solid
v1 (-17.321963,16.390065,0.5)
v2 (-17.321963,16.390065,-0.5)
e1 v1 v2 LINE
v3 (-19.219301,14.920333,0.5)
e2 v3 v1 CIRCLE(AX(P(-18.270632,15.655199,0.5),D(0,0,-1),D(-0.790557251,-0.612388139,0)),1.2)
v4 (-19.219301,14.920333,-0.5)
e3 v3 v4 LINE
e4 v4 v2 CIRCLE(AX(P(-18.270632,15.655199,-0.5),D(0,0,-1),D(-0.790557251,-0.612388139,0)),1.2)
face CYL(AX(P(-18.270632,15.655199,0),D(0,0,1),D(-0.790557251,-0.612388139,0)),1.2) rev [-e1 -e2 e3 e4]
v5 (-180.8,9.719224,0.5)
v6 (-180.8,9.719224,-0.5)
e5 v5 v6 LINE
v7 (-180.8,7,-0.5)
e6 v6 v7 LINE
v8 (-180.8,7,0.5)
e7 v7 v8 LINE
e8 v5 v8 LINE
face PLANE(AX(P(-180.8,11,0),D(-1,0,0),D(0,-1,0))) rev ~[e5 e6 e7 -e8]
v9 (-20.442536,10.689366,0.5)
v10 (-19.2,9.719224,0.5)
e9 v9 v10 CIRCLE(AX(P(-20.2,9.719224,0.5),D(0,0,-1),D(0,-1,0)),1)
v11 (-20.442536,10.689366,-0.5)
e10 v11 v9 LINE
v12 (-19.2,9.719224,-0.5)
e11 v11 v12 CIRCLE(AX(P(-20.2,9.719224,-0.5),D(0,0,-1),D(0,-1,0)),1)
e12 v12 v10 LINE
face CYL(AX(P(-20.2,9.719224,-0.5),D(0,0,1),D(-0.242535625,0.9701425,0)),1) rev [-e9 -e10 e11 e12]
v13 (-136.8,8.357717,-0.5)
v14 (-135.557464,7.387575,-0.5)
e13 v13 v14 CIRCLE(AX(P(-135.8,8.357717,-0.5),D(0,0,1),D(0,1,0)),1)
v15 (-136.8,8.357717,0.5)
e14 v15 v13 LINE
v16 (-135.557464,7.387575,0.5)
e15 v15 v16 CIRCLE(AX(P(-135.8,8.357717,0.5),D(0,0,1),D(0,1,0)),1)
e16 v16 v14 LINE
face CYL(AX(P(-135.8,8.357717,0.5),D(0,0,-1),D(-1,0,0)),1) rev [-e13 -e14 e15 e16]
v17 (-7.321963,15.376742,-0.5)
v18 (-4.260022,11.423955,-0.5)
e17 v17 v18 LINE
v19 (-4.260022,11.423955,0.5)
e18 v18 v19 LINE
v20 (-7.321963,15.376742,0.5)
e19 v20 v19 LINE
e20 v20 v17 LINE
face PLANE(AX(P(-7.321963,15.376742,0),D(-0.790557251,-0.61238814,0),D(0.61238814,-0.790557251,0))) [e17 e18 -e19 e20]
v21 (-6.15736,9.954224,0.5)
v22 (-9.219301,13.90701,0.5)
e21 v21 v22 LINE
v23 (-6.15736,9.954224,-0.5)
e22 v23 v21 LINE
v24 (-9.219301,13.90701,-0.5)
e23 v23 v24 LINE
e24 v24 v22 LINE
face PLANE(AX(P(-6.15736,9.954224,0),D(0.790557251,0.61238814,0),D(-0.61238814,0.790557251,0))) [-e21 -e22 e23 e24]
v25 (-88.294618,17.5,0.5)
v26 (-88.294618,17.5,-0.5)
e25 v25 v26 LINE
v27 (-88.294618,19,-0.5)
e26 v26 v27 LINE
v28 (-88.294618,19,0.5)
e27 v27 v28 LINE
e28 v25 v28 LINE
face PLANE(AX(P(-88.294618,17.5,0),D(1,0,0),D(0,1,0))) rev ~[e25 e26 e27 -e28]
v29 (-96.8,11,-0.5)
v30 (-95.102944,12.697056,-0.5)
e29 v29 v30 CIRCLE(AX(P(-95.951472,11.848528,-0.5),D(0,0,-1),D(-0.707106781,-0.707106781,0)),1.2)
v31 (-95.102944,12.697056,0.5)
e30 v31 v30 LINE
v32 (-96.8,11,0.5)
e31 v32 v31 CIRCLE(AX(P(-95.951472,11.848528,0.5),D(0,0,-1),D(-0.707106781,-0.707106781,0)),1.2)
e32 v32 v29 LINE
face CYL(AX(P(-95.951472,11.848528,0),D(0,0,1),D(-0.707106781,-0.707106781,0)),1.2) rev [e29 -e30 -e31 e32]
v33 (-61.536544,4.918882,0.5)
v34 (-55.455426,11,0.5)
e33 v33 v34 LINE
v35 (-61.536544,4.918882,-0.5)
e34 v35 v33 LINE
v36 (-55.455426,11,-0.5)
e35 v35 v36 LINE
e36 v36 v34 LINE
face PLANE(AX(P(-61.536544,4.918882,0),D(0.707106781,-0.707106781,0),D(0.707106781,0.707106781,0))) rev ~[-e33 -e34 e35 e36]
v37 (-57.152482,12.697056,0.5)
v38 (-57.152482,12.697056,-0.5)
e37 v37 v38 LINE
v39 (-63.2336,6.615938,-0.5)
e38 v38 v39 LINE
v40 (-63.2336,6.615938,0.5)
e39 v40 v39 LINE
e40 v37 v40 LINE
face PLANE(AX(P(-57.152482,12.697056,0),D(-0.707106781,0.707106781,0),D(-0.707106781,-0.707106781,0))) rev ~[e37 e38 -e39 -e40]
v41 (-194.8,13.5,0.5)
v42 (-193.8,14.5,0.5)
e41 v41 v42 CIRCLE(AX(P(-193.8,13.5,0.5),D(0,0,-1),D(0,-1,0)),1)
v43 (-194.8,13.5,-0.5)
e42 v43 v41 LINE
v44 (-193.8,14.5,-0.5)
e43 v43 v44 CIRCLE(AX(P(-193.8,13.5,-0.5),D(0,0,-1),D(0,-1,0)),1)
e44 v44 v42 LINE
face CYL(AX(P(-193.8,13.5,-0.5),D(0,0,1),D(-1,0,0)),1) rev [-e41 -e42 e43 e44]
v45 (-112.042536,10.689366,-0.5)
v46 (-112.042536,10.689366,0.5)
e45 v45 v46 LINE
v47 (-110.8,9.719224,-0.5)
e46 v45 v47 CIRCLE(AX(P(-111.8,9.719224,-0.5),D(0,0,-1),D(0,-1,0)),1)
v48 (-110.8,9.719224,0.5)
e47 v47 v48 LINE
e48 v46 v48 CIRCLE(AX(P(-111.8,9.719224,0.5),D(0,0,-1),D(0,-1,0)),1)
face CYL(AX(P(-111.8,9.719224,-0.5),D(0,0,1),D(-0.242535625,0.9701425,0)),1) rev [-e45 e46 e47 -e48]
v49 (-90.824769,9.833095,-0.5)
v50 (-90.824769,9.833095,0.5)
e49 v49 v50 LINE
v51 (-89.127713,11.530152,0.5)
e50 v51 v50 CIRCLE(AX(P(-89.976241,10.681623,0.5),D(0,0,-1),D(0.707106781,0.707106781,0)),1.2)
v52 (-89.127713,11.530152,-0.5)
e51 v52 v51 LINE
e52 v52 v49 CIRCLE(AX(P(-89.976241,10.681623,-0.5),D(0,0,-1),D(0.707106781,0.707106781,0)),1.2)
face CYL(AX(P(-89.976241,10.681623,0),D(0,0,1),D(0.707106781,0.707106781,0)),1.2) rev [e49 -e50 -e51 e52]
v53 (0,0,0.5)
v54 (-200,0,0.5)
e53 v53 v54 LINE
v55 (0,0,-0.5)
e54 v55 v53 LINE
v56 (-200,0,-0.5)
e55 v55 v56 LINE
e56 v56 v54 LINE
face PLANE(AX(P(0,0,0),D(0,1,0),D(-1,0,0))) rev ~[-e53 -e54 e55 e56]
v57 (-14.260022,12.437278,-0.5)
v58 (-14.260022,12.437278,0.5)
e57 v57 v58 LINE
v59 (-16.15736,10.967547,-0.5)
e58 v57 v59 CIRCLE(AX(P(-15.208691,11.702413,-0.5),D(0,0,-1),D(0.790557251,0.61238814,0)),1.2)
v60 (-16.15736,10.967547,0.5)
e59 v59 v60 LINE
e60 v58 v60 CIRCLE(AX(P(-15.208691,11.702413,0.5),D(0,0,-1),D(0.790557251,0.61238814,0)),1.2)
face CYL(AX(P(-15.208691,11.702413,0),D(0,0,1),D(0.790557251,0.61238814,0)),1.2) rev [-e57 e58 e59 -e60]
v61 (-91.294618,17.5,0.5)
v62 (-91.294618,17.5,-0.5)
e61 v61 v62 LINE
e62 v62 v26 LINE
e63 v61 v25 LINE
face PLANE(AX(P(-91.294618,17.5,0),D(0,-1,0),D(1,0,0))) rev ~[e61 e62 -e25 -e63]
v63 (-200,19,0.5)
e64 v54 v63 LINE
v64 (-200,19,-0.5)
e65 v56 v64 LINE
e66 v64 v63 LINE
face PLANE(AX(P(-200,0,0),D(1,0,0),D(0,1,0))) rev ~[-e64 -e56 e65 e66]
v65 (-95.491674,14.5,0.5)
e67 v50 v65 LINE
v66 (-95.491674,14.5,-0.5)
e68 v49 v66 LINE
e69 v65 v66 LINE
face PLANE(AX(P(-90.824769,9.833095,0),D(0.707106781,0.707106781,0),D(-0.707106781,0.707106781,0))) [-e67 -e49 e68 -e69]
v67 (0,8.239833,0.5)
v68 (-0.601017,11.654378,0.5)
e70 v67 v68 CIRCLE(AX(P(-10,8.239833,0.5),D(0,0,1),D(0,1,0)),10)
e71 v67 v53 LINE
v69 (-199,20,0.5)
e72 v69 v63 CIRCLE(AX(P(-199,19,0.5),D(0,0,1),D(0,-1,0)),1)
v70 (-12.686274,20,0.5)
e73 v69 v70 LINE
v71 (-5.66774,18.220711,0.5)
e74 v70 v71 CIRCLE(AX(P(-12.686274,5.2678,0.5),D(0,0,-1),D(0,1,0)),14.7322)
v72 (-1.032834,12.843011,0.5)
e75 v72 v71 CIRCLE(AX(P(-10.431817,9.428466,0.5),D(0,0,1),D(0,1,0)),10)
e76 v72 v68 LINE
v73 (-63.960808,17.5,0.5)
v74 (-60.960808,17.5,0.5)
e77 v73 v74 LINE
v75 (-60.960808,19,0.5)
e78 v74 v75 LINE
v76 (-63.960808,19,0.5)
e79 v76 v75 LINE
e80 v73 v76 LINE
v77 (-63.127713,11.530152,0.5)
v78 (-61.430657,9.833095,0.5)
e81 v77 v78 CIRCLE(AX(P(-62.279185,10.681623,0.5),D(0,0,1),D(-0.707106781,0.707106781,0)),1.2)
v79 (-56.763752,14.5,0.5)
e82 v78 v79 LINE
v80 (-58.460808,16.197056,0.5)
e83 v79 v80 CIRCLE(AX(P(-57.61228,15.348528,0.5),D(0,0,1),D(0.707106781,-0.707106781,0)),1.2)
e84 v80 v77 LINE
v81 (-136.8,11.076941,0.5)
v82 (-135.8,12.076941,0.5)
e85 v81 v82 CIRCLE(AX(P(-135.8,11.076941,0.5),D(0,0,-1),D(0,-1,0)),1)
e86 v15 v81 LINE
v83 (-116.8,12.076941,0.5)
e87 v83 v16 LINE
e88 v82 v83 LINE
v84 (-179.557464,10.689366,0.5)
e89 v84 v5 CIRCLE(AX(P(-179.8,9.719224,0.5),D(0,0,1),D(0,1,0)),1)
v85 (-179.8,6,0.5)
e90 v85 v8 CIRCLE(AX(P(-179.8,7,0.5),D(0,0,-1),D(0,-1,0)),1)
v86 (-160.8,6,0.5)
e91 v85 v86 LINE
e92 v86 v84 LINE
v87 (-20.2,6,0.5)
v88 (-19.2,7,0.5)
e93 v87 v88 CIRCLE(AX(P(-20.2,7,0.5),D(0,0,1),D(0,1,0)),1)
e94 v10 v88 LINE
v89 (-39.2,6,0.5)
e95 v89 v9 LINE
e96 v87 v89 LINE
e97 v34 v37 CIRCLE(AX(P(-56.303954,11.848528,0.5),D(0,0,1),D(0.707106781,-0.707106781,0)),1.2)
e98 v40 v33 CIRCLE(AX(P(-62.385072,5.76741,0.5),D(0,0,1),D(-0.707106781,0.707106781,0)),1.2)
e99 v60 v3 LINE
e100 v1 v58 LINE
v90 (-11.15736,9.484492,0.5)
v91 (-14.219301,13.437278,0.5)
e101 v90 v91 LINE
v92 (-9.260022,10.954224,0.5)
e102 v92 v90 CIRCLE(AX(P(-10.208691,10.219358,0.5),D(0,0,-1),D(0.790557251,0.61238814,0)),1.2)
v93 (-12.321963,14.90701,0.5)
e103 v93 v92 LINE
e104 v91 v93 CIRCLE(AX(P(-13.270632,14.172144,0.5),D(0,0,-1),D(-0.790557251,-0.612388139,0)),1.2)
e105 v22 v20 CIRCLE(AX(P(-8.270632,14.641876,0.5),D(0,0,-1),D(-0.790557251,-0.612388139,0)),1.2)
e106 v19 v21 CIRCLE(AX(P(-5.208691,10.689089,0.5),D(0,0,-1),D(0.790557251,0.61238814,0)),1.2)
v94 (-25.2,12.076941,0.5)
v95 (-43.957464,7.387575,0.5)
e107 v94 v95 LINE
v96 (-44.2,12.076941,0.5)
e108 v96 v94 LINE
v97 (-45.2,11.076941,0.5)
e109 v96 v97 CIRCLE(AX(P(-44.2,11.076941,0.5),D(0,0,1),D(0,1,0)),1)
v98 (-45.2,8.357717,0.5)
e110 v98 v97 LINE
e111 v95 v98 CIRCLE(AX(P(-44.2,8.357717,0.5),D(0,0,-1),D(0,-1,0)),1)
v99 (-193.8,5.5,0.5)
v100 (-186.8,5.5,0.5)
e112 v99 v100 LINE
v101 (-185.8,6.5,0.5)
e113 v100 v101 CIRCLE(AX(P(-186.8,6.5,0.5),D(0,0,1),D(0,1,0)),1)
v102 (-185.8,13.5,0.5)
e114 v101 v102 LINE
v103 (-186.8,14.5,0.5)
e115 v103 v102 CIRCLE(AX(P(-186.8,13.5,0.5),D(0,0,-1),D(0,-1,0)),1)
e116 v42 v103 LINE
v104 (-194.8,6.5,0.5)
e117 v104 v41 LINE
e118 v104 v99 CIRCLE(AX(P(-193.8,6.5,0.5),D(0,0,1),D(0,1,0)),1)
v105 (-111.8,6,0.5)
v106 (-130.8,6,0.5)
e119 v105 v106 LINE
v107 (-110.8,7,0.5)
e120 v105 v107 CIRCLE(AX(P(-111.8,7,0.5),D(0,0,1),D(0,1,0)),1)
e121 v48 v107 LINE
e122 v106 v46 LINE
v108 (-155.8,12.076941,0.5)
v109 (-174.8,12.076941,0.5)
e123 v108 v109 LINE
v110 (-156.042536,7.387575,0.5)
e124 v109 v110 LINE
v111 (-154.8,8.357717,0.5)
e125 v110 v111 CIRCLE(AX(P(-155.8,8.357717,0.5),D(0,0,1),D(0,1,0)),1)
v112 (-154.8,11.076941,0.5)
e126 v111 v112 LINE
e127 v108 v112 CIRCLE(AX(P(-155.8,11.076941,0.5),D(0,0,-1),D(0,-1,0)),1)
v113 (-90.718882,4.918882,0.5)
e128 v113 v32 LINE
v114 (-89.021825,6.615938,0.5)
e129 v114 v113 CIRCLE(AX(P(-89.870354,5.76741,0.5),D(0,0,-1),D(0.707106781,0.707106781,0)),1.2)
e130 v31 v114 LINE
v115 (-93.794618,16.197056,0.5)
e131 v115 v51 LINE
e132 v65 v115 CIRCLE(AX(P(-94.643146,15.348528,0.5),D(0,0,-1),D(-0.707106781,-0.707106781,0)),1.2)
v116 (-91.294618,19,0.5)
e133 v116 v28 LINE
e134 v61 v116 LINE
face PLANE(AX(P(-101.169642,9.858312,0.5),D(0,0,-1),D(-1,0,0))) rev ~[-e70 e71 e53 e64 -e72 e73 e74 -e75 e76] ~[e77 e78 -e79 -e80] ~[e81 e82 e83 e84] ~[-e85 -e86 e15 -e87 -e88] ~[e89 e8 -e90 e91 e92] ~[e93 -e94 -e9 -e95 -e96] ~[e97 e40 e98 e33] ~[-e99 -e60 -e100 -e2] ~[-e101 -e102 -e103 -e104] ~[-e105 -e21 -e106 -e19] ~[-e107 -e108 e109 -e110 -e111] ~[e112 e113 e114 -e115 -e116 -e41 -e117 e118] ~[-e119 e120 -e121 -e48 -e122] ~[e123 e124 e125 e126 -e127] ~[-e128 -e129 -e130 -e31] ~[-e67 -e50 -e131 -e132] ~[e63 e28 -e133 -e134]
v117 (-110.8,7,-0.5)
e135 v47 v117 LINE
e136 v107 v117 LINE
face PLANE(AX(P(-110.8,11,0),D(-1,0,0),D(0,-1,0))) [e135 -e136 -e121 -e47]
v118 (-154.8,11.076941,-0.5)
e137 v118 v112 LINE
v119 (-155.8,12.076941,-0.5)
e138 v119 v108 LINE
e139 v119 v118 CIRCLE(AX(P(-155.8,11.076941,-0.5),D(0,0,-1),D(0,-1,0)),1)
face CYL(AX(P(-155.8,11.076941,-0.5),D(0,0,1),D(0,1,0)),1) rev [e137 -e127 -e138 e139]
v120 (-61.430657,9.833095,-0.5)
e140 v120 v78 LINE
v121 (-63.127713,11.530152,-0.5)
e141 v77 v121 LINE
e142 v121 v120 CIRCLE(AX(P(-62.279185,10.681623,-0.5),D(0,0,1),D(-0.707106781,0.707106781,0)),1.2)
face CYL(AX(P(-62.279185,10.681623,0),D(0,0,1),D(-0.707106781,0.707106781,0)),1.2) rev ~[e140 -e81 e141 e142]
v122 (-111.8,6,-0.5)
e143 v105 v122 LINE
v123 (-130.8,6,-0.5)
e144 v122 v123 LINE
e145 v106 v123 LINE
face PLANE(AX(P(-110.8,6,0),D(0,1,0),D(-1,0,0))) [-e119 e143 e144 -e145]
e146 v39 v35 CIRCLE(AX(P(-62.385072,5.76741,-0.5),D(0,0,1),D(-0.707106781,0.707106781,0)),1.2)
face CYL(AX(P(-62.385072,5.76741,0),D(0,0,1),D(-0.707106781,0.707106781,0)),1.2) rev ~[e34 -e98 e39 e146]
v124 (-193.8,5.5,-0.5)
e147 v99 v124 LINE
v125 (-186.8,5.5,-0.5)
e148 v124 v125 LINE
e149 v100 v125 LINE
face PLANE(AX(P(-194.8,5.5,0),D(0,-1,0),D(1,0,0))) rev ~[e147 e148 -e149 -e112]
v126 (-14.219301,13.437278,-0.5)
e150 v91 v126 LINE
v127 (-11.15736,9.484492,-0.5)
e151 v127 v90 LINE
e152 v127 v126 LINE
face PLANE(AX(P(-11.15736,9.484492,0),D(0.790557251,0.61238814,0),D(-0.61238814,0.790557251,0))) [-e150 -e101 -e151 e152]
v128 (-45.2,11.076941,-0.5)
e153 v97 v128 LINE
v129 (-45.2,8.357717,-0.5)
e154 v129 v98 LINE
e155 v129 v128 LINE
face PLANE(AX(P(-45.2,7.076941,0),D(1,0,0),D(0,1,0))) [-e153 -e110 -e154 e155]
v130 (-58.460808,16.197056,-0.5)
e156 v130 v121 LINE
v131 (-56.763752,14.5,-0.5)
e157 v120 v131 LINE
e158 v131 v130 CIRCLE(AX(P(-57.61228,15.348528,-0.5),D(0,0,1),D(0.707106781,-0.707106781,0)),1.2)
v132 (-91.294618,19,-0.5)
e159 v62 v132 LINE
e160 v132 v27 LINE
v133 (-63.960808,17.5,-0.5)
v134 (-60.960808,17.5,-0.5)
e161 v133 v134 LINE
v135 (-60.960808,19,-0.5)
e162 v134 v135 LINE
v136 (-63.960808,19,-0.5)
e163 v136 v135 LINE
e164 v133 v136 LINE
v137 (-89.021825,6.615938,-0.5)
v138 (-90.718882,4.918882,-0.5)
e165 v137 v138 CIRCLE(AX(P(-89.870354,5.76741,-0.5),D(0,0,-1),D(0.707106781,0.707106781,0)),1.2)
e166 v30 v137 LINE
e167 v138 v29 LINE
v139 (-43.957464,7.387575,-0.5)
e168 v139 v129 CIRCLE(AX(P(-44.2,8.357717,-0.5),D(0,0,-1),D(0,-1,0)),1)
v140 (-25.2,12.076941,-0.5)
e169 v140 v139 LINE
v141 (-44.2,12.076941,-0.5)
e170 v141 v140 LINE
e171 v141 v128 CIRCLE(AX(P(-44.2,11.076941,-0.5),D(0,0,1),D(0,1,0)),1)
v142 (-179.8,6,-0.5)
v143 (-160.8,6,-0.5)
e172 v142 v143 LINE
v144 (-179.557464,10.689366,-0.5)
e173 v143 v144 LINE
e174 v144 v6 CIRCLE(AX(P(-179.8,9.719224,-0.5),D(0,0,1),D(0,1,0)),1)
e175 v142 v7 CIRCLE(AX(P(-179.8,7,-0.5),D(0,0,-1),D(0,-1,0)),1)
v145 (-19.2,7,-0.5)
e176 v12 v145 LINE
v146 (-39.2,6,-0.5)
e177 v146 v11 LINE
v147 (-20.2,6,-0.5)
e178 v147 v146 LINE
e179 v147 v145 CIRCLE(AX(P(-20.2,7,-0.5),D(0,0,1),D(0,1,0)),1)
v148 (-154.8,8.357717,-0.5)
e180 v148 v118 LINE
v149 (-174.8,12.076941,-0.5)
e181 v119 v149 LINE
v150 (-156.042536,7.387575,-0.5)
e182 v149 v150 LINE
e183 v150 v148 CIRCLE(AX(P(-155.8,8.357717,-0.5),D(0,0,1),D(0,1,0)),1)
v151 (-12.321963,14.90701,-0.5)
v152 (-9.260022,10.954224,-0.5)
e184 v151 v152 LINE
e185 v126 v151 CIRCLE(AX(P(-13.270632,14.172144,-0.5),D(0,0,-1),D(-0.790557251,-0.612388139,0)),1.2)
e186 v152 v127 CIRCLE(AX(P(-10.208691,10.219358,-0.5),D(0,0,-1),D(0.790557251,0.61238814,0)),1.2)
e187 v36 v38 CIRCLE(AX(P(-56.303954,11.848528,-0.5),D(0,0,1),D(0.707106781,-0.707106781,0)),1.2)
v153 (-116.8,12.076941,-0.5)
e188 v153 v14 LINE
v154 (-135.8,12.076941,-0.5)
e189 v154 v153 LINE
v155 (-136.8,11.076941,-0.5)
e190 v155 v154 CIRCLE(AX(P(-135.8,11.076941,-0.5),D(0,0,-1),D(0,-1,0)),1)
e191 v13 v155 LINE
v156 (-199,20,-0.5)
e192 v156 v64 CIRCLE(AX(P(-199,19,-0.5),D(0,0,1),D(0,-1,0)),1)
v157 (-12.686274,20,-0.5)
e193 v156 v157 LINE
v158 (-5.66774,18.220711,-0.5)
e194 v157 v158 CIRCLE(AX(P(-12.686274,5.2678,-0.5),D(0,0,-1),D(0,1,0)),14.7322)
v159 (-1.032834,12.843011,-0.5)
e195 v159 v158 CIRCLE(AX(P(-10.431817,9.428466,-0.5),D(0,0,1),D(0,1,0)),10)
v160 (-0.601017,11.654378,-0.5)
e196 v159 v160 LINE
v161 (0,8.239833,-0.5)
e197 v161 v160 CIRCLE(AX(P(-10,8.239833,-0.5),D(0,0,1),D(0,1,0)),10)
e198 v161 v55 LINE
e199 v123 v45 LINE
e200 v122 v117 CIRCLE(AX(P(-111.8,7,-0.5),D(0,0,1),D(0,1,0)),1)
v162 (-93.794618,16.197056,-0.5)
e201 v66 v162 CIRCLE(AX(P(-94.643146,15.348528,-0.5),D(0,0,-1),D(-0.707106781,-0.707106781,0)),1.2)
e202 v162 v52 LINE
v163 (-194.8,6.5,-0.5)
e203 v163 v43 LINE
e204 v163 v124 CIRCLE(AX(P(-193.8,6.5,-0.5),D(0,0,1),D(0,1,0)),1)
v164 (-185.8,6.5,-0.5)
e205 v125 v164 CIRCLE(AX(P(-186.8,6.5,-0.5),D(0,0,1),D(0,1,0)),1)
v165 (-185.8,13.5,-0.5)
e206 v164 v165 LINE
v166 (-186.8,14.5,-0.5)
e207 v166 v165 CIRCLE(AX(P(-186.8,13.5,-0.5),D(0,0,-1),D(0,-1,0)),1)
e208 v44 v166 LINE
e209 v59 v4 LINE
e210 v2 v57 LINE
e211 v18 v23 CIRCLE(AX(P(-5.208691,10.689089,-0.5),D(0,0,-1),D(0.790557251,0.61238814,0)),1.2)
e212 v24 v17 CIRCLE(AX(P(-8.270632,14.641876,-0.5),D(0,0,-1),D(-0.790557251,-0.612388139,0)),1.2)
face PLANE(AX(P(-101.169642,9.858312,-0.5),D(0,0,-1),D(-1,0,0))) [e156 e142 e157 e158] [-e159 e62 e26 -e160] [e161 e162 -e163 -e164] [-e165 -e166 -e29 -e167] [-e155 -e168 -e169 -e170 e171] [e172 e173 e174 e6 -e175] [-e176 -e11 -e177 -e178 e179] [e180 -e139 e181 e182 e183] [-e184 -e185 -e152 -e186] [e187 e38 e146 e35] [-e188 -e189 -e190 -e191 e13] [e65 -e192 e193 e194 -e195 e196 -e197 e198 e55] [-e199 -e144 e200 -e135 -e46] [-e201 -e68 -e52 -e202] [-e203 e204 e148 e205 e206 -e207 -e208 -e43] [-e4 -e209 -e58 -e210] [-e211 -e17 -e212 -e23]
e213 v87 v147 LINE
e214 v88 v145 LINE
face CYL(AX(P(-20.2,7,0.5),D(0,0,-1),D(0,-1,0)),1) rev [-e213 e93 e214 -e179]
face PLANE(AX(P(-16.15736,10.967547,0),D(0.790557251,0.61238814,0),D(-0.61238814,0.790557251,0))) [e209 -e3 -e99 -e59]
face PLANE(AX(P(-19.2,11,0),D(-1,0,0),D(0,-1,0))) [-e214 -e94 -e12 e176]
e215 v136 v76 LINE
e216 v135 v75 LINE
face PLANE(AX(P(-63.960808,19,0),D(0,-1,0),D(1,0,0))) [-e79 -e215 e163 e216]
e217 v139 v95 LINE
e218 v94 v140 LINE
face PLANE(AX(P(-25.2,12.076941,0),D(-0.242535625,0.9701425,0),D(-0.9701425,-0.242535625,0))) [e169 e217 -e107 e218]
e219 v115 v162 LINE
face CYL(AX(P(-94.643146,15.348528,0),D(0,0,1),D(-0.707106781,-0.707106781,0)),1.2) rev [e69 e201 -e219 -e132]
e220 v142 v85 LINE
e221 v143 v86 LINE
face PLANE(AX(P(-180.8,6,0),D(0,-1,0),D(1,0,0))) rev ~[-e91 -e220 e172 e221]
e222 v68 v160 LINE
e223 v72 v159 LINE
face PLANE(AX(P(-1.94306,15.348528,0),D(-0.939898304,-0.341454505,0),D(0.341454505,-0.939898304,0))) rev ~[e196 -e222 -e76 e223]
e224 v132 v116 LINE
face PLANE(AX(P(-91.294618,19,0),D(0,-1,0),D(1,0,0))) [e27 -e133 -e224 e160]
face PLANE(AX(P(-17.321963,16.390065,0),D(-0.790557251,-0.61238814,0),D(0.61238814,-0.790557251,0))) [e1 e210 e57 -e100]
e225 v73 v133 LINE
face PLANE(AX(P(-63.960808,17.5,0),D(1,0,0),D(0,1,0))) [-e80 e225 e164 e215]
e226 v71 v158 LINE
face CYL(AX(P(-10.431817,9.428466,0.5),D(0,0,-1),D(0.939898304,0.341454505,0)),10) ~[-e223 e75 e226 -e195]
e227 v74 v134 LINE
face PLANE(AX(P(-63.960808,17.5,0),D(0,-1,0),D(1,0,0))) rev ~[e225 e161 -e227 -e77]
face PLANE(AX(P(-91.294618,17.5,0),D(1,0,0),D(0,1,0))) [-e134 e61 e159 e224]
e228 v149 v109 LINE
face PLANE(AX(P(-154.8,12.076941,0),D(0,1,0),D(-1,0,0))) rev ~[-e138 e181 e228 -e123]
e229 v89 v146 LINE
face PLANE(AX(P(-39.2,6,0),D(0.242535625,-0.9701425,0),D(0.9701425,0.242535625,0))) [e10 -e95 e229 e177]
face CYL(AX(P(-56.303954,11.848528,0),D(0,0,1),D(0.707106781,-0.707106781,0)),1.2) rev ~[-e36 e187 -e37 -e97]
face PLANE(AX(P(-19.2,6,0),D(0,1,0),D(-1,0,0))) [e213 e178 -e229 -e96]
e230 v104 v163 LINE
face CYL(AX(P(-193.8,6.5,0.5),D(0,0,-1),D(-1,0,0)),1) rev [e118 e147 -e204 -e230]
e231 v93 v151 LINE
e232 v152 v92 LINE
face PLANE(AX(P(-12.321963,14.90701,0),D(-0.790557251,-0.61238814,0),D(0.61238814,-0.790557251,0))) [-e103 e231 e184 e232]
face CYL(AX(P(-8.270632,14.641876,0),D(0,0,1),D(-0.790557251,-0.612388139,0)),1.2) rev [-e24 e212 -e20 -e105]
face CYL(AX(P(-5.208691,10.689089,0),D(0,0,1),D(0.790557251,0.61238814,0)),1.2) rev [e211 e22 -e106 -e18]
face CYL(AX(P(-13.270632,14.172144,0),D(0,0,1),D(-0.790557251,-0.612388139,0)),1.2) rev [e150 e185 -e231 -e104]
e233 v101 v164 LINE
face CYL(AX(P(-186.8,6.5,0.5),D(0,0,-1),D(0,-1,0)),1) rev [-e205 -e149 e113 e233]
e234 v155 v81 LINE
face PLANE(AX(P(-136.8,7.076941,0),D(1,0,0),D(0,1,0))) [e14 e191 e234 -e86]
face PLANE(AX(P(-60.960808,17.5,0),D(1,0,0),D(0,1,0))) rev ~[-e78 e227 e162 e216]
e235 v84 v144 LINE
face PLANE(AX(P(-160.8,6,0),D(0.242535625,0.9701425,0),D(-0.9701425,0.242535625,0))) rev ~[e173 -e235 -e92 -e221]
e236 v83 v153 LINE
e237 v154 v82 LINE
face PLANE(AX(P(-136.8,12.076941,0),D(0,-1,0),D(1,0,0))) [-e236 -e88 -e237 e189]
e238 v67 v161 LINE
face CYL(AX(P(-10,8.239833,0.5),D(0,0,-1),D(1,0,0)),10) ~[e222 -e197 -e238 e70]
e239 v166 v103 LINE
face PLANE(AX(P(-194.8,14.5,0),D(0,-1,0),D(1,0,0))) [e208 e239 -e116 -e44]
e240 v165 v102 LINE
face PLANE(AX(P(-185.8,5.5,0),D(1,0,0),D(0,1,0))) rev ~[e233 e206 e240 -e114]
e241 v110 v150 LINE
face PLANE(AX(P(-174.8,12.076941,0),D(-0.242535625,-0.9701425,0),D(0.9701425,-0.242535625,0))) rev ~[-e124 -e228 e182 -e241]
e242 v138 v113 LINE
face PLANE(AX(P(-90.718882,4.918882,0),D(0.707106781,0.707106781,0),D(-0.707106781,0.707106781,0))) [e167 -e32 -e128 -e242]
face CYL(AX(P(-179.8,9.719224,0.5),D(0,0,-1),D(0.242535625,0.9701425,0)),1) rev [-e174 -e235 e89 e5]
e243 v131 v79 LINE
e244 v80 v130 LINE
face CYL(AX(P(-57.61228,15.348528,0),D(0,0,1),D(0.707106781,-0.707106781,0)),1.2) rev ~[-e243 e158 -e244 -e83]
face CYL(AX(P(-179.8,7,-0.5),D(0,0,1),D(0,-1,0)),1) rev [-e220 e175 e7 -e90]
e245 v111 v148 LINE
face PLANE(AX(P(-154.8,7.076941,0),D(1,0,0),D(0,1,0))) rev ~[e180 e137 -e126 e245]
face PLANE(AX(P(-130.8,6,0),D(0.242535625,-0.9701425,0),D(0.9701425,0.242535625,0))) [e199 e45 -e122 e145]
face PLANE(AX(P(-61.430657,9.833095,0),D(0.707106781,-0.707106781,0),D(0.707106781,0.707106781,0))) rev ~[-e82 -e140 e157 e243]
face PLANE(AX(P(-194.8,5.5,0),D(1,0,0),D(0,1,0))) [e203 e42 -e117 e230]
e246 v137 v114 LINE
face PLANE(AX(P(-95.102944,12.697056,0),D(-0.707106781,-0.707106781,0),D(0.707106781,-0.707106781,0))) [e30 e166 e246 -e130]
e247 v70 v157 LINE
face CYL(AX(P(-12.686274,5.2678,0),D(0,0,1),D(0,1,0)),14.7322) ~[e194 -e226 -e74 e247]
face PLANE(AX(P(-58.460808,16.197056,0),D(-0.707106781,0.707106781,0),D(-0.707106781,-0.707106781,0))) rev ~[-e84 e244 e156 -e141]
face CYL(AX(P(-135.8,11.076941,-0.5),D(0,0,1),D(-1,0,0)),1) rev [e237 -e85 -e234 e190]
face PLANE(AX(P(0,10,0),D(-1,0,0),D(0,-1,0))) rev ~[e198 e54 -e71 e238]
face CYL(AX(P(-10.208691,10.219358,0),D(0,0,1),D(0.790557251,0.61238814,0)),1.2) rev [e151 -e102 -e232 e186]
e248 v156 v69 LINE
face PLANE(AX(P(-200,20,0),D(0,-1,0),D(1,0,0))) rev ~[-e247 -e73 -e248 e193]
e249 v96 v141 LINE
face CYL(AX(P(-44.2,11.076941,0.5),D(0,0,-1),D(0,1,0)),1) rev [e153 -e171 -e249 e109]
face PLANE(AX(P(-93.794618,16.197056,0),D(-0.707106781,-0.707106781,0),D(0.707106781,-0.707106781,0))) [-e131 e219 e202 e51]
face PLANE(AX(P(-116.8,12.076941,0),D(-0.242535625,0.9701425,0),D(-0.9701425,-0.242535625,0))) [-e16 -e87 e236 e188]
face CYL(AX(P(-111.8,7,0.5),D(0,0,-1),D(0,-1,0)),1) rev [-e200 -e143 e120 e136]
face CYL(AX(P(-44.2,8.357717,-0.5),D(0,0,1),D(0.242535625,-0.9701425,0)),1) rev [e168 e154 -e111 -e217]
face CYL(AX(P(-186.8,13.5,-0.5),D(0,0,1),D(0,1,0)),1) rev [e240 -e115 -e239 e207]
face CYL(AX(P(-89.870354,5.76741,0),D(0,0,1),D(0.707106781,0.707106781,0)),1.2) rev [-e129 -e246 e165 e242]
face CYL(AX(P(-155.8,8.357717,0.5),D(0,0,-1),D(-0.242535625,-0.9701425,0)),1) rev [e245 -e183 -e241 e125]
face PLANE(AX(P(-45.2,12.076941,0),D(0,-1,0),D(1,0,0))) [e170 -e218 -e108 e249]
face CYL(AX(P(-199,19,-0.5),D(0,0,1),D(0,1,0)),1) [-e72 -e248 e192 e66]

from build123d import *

# Parameters (mm, degrees)
SKETCH1_W           = 9
SKETCH1_H           = 9
SKETCH1_W_2         = 3
SKETCH1_H_2         = 1.5
BOSS_EXTRUDE1_DEPTH = 0.5
FILLET1_R           = 10
FILLET3_R           = 1


with BuildPart() as part:
    # Sketch1 → Boss-Extrude1 (new, symmetric)
    with BuildSketch(Plane.XY):
        with BuildLine():
            Line((-200, 10), (-200, 20))
            Line((-200, 20), (-12.686273665, 20))
            ThreePointArc((-12.686273665, 20), (-6.83279553, 18.787212337), (-1.943060243, 15.348528137))
            Line((-1.943060243, 15.348528137), (0, 10))
            Line((0, 10), (0, 0))
            Line((0, 0), (-10, 0))
            Line((-10, 0), (-200, 0))
            Line((-200, 0), (-200, 10))
        make_face()
        Polygon((-180.8, 11), (-180.8, 6), (-160.8, 6), align=None, mode=Mode.SUBTRACT)
        with Locations((-190.3, 10)):
            Rectangle(SKETCH1_W, SKETCH1_H, mode=Mode.SUBTRACT)
        Polygon((-154.8, 7.076941016), (-154.8, 12.076941016), (-174.8, 12.076941016), align=None, mode=Mode.SUBTRACT)
        Polygon((-130.8, 6), (-110.8, 11), (-110.8, 6), align=None, mode=Mode.SUBTRACT)
        Polygon((-136.8, 7.076941016), (-136.8, 12.076941016), (-116.8, 12.076941016), align=None, mode=Mode.SUBTRACT)
        with BuildLine():
            Line((-95.102943725, 12.697056275), (-89.021825407, 6.615937957))
            ThreePointArc((-89.021825407, 6.615937957), (-89.021825407, 4.918881682), (-90.718881682, 4.918881682))
            Line((-90.718881682, 4.918881682), (-96.8, 11))
            ThreePointArc((-96.8, 11), (-96.8, 12.697056275), (-95.102943725, 12.697056275))
        make_face(mode=Mode.SUBTRACT)
        with BuildLine():
            Line((-93.794617613, 16.197056275), (-89.127712857, 11.530151519))
            ThreePointArc((-89.127712857, 11.530151519), (-89.127712857, 9.833095244), (-90.824769132, 9.833095244))
            Line((-90.824769132, 9.833095244), (-95.491673888, 14.5))
            ThreePointArc((-95.491673888, 14.5), (-95.491673888, 16.197056275), (-93.794617613, 16.197056275))
        make_face(mode=Mode.SUBTRACT)
        with Locations((-89.794617613, 18.25)):
            Rectangle(SKETCH1_W_2, SKETCH1_H_2, mode=Mode.SUBTRACT)
        with Locations((-62.460808101, 18.25)):
            Rectangle(SKETCH1_W_2, SKETCH1_H_2, mode=Mode.SUBTRACT)
        with BuildLine():
            Line((-58.460808101, 16.197056275), (-63.127712857, 11.530151519))
            ThreePointArc((-63.127712857, 11.530151519), (-63.127712857, 9.833095244), (-61.430656582, 9.833095244))
            Line((-61.430656582, 9.833095244), (-56.763751827, 14.5))
            ThreePointArc((-56.763751827, 14.5), (-56.763751827, 16.197056275), (-58.460808101, 16.197056275))
        make_face(mode=Mode.SUBTRACT)
        with BuildLine():
            Line((-57.152481989, 12.697056275), (-63.233600308, 6.615937957))
            ThreePointArc((-63.233600308, 6.615937957), (-63.233600308, 4.918881682), (-61.536544033, 4.918881682))
            Line((-61.536544033, 4.918881682), (-55.455425715, 11))
            ThreePointArc((-55.455425715, 11), (-55.455425715, 12.697056275), (-57.152481989, 12.697056275))
        make_face(mode=Mode.SUBTRACT)
        Polygon((-25.2, 12.076941016), (-45.2, 7.076941016), (-45.2, 12.076941016), align=None, mode=Mode.SUBTRACT)
        Polygon((-39.2, 6), (-19.2, 11), (-19.2, 6), align=None, mode=Mode.SUBTRACT)
        with BuildLine():
            Line((-17.321963125, 16.390064684), (-14.260022427, 12.437278431))
            ThreePointArc((-14.260022427, 12.437278431), (-14.47382536, 10.753743963), (-16.157359828, 10.967546896))
            Line((-16.157359828, 10.967546896), (-19.219300527, 14.920333149))
            ThreePointArc((-19.219300527, 14.920333149), (-19.005497594, 16.603867617), (-17.321963125, 16.390064684))
        make_face(mode=Mode.SUBTRACT)
        with BuildLine():
            Line((-12.321963125, 14.907009966), (-9.260022427, 10.954223713))
            ThreePointArc((-9.260022427, 10.954223713), (-9.47382536, 9.270689245), (-11.157359828, 9.484492178))
            Line((-11.157359828, 9.484492178), (-14.219300527, 13.437278431))
            ThreePointArc((-14.219300527, 13.437278431), (-14.005497594, 15.120812899), (-12.321963125, 14.907009966))
        make_face(mode=Mode.SUBTRACT)
        with BuildLine():
            Line((-7.321963125, 15.376741501), (-4.260022427, 11.423955248))
            ThreePointArc((-4.260022427, 11.423955248), (-4.47382536, 9.74042078), (-6.157359828, 9.954223713))
            Line((-6.157359828, 9.954223713), (-9.219300527, 13.907009966))
            ThreePointArc((-9.219300527, 13.907009966), (-9.005497594, 15.590544434), (-7.321963125, 15.376741501))
        make_face(mode=Mode.SUBTRACT)
    extrude(amount=BOSS_EXTRUDE1_DEPTH, both=True)

    # Fillet1
    fillet1_edges = [part.edges().sort_by_distance(p)[0] for p in [
        (0, 10, 0),
        (-1.943060243, 15.348528137, 0),
    ]]
    fillet(fillet1_edges, radius=FILLET1_R)

    # Fillet3
    fillet3_edges = [part.edges().sort_by_distance(p)[0] for p in [
        (-200, 20, 0),
        (-154.8, 7.076941016, 0),
        (-154.8, 12.076941016, 0),
        (-180.8, 11, 0),
        (-180.8, 6, 0),
        (-194.8, 14.5, 0),
        (-194.8, 5.5, 0),
        (-185.8, 5.5, 0),
        (-185.8, 14.5, 0),
        (-110.8, 6, 0),
        (-110.8, 11, 0),
        (-136.8, 7.076941016, 0),
        (-136.8, 12.076941016, 0),
        (-45.2, 12.076941016, 0),
        (-45.2, 7.076941016, 0),
        (-19.2, 6, 0),
        (-19.2, 11, 0),
    ]]
    fillet(fillet3_edges, radius=FILLET3_R)


solid = part.part
